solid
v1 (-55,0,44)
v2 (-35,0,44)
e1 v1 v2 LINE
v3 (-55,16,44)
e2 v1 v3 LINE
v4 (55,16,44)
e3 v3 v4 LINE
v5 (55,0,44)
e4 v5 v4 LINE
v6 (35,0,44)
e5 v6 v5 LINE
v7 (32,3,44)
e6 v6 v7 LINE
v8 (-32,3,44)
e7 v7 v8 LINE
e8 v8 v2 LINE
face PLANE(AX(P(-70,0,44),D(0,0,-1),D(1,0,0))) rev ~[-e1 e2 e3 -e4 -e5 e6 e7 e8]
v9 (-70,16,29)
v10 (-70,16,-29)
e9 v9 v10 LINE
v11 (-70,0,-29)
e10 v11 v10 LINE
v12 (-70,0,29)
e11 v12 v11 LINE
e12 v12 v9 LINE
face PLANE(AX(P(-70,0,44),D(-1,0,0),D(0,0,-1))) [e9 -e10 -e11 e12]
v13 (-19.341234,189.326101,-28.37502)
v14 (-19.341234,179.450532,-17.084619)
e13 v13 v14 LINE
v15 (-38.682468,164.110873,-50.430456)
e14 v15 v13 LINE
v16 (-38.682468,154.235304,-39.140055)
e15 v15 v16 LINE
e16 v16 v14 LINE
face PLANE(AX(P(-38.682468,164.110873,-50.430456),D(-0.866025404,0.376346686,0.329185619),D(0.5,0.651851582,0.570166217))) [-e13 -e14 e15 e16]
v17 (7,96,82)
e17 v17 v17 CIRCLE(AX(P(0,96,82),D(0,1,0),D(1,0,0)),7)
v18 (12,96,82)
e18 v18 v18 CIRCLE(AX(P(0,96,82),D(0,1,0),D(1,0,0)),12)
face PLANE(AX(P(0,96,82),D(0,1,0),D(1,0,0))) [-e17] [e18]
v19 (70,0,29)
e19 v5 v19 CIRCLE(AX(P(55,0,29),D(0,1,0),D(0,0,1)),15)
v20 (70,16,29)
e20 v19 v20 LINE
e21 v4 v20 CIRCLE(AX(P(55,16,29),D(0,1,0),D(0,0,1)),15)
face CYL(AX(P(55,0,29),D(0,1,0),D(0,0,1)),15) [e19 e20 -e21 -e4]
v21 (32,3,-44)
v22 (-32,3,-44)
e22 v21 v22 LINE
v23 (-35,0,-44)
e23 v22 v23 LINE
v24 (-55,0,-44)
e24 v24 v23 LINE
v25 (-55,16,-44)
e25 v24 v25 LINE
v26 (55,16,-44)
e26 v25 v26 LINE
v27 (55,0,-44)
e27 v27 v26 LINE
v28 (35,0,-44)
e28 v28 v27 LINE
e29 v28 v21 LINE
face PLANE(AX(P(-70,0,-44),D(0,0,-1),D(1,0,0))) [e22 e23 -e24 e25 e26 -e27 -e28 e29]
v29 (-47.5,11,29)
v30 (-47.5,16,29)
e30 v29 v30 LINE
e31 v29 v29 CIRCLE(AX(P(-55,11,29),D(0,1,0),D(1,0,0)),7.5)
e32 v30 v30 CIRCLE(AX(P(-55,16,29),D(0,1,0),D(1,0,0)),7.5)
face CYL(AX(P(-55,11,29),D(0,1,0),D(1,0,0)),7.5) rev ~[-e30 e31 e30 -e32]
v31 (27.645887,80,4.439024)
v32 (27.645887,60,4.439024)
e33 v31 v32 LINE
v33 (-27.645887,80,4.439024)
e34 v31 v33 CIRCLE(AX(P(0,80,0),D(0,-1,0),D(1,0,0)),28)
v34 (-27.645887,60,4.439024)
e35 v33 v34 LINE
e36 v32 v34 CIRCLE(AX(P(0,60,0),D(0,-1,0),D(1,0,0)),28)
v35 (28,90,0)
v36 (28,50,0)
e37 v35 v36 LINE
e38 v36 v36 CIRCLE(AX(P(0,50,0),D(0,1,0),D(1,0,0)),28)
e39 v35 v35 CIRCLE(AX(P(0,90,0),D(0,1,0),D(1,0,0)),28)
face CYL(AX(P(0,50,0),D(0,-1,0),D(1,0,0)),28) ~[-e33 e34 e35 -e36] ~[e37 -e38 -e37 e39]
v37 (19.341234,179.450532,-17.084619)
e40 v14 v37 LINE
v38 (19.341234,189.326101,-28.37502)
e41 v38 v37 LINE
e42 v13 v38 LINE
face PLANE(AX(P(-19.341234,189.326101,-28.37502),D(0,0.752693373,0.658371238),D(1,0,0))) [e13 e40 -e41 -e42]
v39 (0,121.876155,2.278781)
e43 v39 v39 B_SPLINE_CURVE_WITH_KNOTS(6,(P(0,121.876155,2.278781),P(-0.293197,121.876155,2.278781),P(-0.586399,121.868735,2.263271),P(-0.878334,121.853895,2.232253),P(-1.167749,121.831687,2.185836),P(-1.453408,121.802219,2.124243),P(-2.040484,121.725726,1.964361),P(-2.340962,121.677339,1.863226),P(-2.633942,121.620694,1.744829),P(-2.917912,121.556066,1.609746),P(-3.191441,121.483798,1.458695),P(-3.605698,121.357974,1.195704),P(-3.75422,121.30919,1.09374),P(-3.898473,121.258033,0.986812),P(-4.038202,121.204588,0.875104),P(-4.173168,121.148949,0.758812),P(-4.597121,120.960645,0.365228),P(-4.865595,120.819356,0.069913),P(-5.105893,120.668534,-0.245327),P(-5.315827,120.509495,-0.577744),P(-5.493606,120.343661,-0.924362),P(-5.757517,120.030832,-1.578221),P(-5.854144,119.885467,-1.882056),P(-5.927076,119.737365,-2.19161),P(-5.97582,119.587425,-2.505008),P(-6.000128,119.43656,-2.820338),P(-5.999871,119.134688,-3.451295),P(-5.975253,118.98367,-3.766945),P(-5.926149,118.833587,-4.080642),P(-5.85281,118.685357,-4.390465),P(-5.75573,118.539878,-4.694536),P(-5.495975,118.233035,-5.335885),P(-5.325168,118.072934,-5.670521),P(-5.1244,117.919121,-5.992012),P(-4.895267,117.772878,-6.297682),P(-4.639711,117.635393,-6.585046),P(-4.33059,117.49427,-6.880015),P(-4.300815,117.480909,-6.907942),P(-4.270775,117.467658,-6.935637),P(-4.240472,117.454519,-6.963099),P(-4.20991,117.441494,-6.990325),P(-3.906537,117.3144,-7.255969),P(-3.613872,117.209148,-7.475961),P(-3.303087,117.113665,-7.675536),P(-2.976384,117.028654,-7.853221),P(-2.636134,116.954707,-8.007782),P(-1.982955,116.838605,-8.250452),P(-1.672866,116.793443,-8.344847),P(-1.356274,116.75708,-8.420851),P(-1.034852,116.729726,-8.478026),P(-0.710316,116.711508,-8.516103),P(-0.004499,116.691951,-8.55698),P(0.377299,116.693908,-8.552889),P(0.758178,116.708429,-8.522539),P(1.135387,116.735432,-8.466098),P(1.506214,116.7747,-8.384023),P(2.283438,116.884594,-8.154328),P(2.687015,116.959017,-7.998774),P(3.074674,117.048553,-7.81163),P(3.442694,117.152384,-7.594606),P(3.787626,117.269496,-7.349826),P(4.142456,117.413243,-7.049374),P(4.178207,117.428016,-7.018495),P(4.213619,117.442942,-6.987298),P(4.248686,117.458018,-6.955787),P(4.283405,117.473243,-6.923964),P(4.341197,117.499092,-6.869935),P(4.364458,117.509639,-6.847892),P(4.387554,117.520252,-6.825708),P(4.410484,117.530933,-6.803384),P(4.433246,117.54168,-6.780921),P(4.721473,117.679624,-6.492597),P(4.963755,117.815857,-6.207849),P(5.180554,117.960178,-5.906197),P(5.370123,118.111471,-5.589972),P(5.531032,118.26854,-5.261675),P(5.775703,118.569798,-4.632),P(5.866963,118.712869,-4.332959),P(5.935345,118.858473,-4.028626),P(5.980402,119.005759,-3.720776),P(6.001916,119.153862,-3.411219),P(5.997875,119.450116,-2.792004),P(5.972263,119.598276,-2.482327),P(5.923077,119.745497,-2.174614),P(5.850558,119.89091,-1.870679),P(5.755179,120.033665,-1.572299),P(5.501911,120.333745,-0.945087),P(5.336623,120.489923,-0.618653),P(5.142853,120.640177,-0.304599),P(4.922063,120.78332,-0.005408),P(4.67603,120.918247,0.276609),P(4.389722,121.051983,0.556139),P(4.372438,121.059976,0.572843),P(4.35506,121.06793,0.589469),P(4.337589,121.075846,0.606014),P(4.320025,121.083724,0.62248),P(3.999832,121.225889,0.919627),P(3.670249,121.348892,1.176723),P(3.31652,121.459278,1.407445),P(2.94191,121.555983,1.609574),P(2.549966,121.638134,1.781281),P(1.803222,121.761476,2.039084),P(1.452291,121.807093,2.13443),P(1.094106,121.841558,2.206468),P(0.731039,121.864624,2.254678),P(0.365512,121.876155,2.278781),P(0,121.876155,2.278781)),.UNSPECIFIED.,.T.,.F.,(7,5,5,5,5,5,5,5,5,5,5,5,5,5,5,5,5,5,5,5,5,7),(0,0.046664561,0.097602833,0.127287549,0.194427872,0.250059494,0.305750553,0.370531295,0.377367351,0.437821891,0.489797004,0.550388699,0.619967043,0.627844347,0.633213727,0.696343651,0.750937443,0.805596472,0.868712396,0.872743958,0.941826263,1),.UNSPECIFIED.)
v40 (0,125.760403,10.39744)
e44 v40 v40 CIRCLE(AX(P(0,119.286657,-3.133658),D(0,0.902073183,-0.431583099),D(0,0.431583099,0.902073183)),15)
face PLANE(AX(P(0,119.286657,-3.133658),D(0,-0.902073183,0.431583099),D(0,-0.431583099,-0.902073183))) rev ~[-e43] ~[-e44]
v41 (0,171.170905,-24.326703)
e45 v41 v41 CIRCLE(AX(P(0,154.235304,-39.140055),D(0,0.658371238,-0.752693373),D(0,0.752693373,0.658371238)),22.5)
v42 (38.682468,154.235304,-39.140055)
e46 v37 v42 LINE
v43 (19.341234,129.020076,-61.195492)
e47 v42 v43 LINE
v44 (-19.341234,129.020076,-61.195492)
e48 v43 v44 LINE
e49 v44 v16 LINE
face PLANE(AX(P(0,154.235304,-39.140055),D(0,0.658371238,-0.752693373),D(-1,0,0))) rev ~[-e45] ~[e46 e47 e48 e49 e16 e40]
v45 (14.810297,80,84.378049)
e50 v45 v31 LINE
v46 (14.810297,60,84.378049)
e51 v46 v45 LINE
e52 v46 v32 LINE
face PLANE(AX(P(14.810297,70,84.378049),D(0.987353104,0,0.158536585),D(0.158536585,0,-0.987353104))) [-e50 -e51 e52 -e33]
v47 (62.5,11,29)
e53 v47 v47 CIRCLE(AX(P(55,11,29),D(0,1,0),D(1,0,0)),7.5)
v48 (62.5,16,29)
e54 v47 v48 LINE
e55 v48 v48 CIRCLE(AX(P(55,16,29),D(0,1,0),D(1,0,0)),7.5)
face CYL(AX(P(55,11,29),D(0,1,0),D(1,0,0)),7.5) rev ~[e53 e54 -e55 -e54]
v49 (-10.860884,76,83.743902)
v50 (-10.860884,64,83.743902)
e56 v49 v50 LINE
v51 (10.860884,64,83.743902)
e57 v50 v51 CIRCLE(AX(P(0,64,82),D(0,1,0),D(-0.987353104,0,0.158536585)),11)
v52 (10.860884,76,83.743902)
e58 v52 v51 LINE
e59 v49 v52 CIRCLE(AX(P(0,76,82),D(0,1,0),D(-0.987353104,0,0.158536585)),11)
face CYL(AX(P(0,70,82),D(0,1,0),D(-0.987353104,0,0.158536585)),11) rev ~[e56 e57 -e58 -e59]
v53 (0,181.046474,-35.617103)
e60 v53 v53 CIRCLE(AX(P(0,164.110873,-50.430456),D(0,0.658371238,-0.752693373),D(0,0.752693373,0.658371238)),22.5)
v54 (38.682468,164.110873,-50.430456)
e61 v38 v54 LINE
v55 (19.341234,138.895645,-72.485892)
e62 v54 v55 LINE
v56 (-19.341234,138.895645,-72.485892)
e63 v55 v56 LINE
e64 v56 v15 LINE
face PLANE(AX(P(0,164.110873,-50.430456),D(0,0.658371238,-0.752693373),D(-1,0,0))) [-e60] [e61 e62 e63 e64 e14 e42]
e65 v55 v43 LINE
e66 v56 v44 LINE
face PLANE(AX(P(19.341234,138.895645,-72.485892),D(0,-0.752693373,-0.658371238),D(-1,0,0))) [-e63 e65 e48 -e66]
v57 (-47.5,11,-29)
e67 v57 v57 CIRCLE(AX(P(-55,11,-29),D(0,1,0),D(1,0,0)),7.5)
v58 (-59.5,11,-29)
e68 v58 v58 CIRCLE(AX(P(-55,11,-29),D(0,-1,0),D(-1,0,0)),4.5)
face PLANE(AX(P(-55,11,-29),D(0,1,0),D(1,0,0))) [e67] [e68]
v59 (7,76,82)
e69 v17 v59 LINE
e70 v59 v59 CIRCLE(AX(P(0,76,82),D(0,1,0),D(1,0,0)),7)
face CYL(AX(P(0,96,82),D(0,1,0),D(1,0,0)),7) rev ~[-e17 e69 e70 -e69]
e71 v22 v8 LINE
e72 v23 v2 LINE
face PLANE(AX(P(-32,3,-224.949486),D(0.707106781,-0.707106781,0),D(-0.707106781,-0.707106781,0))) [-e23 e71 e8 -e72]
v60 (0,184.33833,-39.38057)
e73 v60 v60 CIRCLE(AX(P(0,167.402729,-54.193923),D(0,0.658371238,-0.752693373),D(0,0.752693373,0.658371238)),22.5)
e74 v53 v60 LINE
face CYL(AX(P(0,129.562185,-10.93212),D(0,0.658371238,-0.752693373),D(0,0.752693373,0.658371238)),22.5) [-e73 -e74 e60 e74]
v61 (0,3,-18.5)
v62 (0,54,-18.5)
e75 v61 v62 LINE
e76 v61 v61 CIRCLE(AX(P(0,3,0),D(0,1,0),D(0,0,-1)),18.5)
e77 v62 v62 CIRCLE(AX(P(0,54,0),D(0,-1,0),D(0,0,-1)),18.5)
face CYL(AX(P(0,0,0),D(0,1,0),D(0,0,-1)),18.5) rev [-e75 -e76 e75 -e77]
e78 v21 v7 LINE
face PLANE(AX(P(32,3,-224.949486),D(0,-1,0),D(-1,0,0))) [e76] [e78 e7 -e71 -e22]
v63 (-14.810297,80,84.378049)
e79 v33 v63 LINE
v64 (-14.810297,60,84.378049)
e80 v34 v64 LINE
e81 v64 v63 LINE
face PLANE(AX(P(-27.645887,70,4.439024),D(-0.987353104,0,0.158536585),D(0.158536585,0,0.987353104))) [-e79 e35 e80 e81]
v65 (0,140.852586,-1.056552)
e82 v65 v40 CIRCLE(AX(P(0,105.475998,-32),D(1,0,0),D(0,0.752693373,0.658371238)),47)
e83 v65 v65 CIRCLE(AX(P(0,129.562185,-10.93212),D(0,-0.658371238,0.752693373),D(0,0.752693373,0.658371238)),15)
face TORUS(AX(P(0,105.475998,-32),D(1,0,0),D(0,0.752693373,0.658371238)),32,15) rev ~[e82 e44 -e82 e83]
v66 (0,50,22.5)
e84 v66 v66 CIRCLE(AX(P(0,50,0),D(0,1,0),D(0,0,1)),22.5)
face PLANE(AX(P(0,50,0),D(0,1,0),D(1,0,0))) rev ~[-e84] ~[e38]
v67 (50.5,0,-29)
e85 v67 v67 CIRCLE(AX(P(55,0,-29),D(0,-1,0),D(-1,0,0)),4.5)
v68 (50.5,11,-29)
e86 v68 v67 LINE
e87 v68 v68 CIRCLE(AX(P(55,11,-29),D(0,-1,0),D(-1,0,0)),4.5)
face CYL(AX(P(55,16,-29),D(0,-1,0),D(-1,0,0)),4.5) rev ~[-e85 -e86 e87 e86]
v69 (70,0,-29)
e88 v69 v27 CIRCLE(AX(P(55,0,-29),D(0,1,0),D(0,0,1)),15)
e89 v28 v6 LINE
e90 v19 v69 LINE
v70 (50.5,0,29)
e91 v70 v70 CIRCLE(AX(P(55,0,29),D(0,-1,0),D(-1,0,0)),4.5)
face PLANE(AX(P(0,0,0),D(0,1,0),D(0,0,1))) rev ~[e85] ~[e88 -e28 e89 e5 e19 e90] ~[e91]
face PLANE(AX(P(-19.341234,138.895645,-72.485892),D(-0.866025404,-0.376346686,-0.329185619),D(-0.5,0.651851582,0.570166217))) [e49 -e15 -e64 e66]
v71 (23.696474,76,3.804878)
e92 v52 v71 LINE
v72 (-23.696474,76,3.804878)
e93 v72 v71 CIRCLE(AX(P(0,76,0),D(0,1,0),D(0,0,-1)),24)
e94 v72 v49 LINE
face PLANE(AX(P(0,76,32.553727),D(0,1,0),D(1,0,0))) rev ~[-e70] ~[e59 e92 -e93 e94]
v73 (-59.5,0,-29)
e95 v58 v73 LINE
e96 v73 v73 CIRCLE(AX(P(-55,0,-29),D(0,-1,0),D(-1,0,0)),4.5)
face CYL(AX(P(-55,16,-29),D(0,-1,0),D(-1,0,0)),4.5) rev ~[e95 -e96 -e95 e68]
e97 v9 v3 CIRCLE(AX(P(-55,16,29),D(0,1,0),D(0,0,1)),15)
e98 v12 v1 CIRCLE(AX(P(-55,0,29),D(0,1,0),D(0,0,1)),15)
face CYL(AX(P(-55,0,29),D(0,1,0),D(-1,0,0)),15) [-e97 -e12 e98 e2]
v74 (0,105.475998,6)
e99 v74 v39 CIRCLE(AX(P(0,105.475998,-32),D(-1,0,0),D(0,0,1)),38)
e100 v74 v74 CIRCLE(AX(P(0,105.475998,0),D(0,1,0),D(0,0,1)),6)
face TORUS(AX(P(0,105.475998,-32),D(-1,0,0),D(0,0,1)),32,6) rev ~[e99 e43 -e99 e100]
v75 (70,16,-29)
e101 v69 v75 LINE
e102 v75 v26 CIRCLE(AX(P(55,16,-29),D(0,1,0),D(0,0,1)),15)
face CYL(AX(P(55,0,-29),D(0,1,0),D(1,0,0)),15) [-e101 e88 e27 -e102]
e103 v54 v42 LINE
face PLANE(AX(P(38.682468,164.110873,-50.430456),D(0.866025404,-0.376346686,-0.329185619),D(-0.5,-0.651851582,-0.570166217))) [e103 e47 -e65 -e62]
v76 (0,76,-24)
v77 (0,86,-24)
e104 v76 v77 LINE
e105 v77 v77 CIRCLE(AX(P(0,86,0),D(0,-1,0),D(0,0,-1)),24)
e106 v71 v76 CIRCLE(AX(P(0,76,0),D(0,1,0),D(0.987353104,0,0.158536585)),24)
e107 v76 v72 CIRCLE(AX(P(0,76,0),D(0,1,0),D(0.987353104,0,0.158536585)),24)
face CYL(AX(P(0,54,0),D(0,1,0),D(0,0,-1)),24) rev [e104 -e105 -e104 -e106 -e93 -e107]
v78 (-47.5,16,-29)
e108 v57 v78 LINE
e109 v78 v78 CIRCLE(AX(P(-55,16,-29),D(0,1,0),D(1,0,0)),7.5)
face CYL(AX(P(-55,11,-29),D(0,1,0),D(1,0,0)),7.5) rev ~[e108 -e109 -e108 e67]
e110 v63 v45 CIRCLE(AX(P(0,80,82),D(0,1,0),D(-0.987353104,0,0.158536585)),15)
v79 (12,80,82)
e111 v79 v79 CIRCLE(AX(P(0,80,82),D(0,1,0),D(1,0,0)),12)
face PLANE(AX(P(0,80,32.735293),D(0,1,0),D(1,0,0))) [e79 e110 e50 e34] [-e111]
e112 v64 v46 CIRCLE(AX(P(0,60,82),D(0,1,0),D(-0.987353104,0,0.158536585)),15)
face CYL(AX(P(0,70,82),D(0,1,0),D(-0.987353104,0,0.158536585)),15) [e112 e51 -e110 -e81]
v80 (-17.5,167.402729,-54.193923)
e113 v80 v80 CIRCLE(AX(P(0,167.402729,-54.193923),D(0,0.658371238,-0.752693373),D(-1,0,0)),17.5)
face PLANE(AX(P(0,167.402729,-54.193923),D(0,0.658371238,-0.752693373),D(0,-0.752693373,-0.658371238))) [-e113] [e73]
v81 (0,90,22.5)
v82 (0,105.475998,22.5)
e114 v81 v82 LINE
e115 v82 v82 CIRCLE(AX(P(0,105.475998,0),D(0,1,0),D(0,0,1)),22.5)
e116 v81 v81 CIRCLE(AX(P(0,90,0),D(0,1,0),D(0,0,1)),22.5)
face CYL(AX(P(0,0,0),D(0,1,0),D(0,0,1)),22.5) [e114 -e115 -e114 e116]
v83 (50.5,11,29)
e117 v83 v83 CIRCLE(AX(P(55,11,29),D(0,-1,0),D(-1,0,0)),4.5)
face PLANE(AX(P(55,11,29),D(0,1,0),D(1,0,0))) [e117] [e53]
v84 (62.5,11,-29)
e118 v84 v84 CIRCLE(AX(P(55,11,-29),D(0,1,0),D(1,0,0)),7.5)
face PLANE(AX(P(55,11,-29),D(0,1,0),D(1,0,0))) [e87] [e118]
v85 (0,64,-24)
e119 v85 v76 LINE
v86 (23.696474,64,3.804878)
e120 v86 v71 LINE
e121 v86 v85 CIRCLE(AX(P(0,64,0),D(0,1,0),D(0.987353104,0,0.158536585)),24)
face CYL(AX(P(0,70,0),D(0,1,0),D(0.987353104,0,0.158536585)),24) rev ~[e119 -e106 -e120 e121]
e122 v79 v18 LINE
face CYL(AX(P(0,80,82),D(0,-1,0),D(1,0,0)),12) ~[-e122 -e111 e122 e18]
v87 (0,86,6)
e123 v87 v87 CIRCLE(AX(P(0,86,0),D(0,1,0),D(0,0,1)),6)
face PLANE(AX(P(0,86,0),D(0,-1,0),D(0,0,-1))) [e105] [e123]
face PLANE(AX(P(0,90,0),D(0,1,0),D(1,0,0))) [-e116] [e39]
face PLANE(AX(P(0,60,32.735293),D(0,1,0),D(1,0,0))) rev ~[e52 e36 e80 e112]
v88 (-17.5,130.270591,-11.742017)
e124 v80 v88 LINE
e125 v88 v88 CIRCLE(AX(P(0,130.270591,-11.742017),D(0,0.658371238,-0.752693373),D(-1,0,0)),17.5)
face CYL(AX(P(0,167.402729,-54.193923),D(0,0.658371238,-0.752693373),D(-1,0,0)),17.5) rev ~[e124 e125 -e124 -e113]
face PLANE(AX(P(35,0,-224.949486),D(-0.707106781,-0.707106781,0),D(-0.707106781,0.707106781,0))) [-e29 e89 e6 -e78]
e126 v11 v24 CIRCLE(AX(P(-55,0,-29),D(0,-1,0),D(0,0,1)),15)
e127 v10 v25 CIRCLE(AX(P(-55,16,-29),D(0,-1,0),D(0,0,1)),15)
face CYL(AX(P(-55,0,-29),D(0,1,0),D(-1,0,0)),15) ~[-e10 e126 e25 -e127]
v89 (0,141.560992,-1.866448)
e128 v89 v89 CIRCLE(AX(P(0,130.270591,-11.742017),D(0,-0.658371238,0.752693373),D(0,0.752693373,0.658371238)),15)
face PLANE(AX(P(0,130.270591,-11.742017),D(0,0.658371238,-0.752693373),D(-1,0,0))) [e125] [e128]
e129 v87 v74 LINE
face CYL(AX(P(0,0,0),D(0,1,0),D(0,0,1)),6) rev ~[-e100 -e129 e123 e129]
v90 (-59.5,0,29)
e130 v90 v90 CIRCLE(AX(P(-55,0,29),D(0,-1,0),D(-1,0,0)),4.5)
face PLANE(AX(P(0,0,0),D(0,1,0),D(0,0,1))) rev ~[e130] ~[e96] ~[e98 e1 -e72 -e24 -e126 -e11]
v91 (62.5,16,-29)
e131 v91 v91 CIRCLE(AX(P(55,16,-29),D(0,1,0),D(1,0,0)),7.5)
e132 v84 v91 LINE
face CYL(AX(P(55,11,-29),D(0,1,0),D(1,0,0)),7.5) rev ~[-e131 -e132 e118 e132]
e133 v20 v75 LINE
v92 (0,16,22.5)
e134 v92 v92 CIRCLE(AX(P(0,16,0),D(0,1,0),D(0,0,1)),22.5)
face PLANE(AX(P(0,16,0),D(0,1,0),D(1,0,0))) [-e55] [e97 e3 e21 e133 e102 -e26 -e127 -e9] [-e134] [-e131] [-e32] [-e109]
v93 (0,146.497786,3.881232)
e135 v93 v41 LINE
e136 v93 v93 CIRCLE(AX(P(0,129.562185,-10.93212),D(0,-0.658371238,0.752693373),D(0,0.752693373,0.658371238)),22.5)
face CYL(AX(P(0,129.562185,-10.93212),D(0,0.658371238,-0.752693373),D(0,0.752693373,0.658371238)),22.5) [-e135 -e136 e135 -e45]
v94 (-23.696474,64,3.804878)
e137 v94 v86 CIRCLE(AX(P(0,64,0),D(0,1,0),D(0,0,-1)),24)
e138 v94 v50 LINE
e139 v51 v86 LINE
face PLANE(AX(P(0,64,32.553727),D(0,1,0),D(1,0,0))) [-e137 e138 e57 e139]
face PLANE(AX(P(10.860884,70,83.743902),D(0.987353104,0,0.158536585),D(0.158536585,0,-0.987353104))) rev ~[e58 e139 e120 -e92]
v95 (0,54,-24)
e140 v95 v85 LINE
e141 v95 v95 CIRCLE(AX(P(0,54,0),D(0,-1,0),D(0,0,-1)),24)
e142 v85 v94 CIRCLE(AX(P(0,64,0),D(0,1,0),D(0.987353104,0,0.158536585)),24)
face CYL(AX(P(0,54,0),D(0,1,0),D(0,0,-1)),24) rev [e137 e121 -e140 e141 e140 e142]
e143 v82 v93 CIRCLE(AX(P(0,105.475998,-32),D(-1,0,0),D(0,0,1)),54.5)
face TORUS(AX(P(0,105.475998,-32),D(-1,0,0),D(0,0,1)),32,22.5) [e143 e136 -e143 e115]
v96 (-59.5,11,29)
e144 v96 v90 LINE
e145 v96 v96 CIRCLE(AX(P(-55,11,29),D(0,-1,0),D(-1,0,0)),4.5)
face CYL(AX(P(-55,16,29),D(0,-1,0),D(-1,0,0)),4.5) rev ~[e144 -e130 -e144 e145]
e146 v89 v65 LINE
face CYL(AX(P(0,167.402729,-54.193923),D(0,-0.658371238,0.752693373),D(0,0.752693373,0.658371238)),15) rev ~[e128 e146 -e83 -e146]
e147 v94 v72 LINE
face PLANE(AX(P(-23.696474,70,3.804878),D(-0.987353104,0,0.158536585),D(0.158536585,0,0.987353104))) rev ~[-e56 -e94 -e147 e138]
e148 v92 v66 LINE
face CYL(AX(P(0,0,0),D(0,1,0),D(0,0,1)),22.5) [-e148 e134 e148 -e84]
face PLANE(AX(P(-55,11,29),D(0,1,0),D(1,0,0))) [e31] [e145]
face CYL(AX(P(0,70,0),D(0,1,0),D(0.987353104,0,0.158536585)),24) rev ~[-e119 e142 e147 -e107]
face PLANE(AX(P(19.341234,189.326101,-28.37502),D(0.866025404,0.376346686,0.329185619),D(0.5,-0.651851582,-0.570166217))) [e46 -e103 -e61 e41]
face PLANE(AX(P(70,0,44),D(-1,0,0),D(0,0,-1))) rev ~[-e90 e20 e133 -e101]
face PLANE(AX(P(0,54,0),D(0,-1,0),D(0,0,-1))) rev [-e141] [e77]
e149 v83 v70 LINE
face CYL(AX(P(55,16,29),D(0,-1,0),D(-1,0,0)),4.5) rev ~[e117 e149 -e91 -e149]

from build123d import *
from build123d.topology import SkipClean

# Parameters (mm, degrees)
SKETCH1_W               = 140
SKETCH1_H               = 88
BOSS_EXTRUDE1_DEPTH     = 16
FILLET1_R               = 15
HOLE2_D                 = 9
HOLE2_CBORE_D           = 15
HOLE2_CBORE_DEPTH       = 5
SWEEP1_PROFILE_R        = 22.5
CUT_SWEEP1_PROFILE_R    = 6
BOSS_EXTRUDE2_START     = 50
SKETCH21_R              = 28
BOSS_EXTRUDE2_DEPTH     = 40
BOSS_EXTRUDE3_DEPTH     = 10
CUT_EXTRUDE1_DEPTH      = 6
SKETCH27_R              = 12
BOSS_EXTRUDE4_DEPTH     = 16
CUT_EXTRUDE2_REACH      = 155.379
SKETCH28_R              = 7
CUT_SWEEP2_PROFILE_R    = 6
BOSS_EXTRUDE5_START     = -5
BOSS_EXTRUDE5_DEPTH     = 15
CUT_SWEEP3_PROFILE_R    = 15
SKETCH57_R              = 17.5
CUT_EXTRUDE3_DEPTH      = 56.4
CUT_EXTRUDE4_DEPTH      = 224.949486459
CUT_EXTRUDE4_DEPTH_BACK = 224.949486459


with BuildPart() as part:
    # Sketch1 → Boss-Extrude1 (new body)
    with BuildSketch(Plane(origin=(0, 0, 0), x_dir=(1, 0, 0), z_dir=(0, 1, 0))):
        Rectangle(SKETCH1_W, SKETCH1_H)
    extrude(amount=BOSS_EXTRUDE1_DEPTH)

    # Fillet1
    fillet1_edges = [part.edges().sort_by_distance(p)[0] for p in [
        (-70, 8, -44),
        (70, 8, -44),
        (-70, 8, 44),
        (70, 8, 44),
    ]]
    fillet(fillet1_edges, radius=FILLET1_R)

    # Hole2 (through all)
    with Locations(Plane(origin=(0, 16, 0), x_dir=(1, 0, 0), z_dir=(0, 1, 0))):
        with Locations((-55, 29), (55, 29), (-55, -29), (55, -29)):
            CounterBoreHole(HOLE2_D / 2, HOLE2_CBORE_D / 2, HOLE2_CBORE_DEPTH)

    # Sweep1: sweep along a path in Sketch6
    with BuildLine(Plane(origin=(0, 0, 0), x_dir=(0, 0, -1), z_dir=(1, 0, 0))) as sweep1_path:
        Line((0, 0), (0, 105.475997542))
        ThreePointArc((0, 105.475997542), (2.860918449, 118.701500419), (10.932120397, 129.562185473))
        Line((10.932120397, 129.562185473), (54.193922845, 167.402729106))
    # Sweep1 profile (on start of the path) → Sweep1 (sweep)
    with BuildSketch(Plane.ZX):
        Circle(SWEEP1_PROFILE_R)
    sweep(path=sweep1_path.line)

    # Cut-Sweep1: sweep along a path in Sketch6<5>
    with BuildLine(Plane(origin=(0, 0, 0), x_dir=(0, 0, -1), z_dir=(1, 0, 0))) as cut_sweep1_path:
        Line((0, 0), (0, 105.475997542))
        ThreePointArc((0, 105.475997542), (2.860918449, 118.701500419), (10.932120397, 129.562185473))
        Line((10.932120397, 129.562185473), (54.193922845, 167.402729106))
    # Cut-Sweep1 profile (on start of the path) → Cut-Sweep1 (sweep, cut)
    with BuildSketch(Plane.ZX):
        Circle(CUT_SWEEP1_PROFILE_R)
    sweep(path=cut_sweep1_path.line, mode=Mode.SUBTRACT)

    # Sketch21 → Boss-Extrude2 (add)
    with BuildSketch(Plane(origin=(0, 0, 0), x_dir=(1, 0, 0), z_dir=(0, 1, 0)).offset(BOSS_EXTRUDE2_START)):
        Circle(SKETCH21_R)
    extrude(amount=BOSS_EXTRUDE2_DEPTH)

    # Sketch23 → Boss-Extrude3 (add, symmetric)
    with BuildSketch(Plane(origin=(0, 70, 0), x_dir=(1, 0, 0), z_dir=(0, 1, 0))):
        with BuildLine():
            Line((-27.6458869, -4.43902439), (-14.810296553, -84.37804878))
            ThreePointArc((-14.810296553, -84.37804878), (0, -97), (14.810296553, -84.37804878))
            Line((14.810296553, -84.37804878), (27.6458869, -4.43902439))
            ThreePointArc((27.6458869, -4.43902439), (0, 28), (-27.6458869, -4.43902439))
        make_face()
    extrude(amount=BOSS_EXTRUDE3_DEPTH, both=True)

    # Sketch25 → Cut-Extrude1 (cut, symmetric)
    with BuildSketch(Plane(origin=(0, 70, 0), x_dir=(1, 0, 0), z_dir=(0, 1, 0))):
        with BuildLine():
            Line((10.860884139, -83.743902439), (23.696474485, -3.804878049))
            ThreePointArc((23.696474485, -3.804878049), (0, 24), (-23.696474485, -3.804878049))
            Line((-23.696474485, -3.804878049), (-10.860884139, -83.743902439))
            ThreePointArc((-10.860884139, -83.743902439), (0, -93), (10.860884139, -83.743902439))
        make_face()
    extrude(amount=CUT_EXTRUDE1_DEPTH, both=True, mode=Mode.SUBTRACT)

    # Sketch27 → Boss-Extrude4 (add)
    with BuildSketch(Plane(origin=(0, 80, 0), x_dir=(1, 0, 0), z_dir=(0, 1, 0))):
        with Locations((0, -82)):
            Circle(SKETCH27_R)
    extrude(amount=BOSS_EXTRUDE4_DEPTH)

    # Sketch28 → Cut-Extrude2 (cut, up to next)
    with BuildSketch(Plane(origin=(0, 96, 0), x_dir=(1, 0, 0), z_dir=(0, 1, 0)), mode=Mode.PRIVATE) as cut_extrude2_sk1:
        with Locations((0, -82)):
            Circle(SKETCH28_R)
    cut_extrude2_tool1 = extrude(cut_extrude2_sk1.sketch, amount=-CUT_EXTRUDE2_REACH, mode=Mode.PRIVATE) & part.part
    add(cut_extrude2_tool1.solids().sort_by_distance((0, 96, 82))[0], mode=Mode.SUBTRACT)

    # Sketch30 → Cut-Revolve1 (revolve, cut)
    with SkipClean():  # the faces are left unmerged after this step: merging them gives an invalid solid
        with BuildSketch(Plane(origin=(0, 0, 0), x_dir=(0, 0, -1), z_dir=(1, 0, 0))):
            Polygon((0, 0), (18.5, 0), (18.5, 54), (24, 54), (24, 86), (0, 86), align=None)
        revolve(axis=Axis((0, 86, 0), (0, -1, 0)), mode=Mode.SUBTRACT)
    add(part.part.scale(1), mode=Mode.REPLACE)  # the faces are merged on a copy

    # Cut-Sweep2: sweep along a path in Sketch6<6>
    with BuildLine(Plane(origin=(0, 0, 0), x_dir=(0, 0, -1), z_dir=(1, 0, 0))) as cut_sweep2_path:
        Line((0, 0), (0, 105.475997542))
        ThreePointArc((0, 105.475997542), (2.860918449, 118.701500419), (10.932120397, 129.562185473))
        Line((10.932120397, 129.562185473), (54.193922845, 167.402729106))
    # Cut-Sweep2 profile (on start of the path) → Cut-Sweep2 (sweep, cut)
    with BuildSketch(Plane.ZX):
        Circle(CUT_SWEEP2_PROFILE_R)
    sweep(path=cut_sweep2_path.line, mode=Mode.SUBTRACT)

    # Sketch41 → Boss-Extrude5 (add)
    with BuildSketch(Plane(origin=(0, 99.417051483, -113.660122933), x_dir=(-1, 0, 0), z_dir=(0, 0.6583712375823932, -0.752693372844632)).offset(BOSS_EXTRUDE5_START)):
        Polygon((19.341234018, 56.823204741), (38.682468036, 90.323204741), (19.341234018, 123.823204741), (-19.341234018, 123.823204741), (-38.682468036, 90.323204741), (-19.341234018, 56.823204741), align=None)
    extrude(amount=-BOSS_EXTRUDE5_DEPTH)

    # Cut-Sweep3: sweep along a path in Sketch43
    with BuildLine(Plane(origin=(0, 0, 0), x_dir=(0, 0, -1), z_dir=(1, 0, 0))) as cut_sweep3_path:
        Line((54.193922845, 167.402729106), (10.932120397, 129.562185473))
        ThreePointArc((10.932120397, 129.562185473), (6.509742227, 124.821455889), (3.133658129, 119.286656721))
    # Cut-Sweep3 profile (on start of the path) → Cut-Sweep3 (sweep, cut)
    with BuildSketch(Plane(origin=(0, 167.402729106, -54.193922845), x_dir=(0, 0.7526933728446314, 0.6583712375823938), z_dir=(0, -0.6583712375823938, 0.7526933728446314))):
        Circle(CUT_SWEEP3_PROFILE_R)
    sweep(path=cut_sweep3_path.line, mode=Mode.SUBTRACT)

    # Sketch57 → Cut-Extrude3 (cut)
    with BuildSketch(Plane(origin=(0, 99.417051483, -113.660122933), x_dir=(-1, 0, 0), z_dir=(0, 0.6583712375823932, -0.752693372844632))):
        with Locations((0, 90.323204741)):
            Circle(SKETCH57_R)
    extrude(amount=-CUT_EXTRUDE3_DEPTH, mode=Mode.SUBTRACT)

    # Sketch59 → Cut-Extrude4 (cut, two sides: drawn at the far end of the back side and taken through both)
    with BuildSketch(Plane.XY.offset(-CUT_EXTRUDE4_DEPTH_BACK)):
        Polygon((-35, 0), (35, 0), (32, 3), (-32, 3), align=None)
    extrude(amount=CUT_EXTRUDE4_DEPTH + CUT_EXTRUDE4_DEPTH_BACK, mode=Mode.SUBTRACT)


solid = part.part
